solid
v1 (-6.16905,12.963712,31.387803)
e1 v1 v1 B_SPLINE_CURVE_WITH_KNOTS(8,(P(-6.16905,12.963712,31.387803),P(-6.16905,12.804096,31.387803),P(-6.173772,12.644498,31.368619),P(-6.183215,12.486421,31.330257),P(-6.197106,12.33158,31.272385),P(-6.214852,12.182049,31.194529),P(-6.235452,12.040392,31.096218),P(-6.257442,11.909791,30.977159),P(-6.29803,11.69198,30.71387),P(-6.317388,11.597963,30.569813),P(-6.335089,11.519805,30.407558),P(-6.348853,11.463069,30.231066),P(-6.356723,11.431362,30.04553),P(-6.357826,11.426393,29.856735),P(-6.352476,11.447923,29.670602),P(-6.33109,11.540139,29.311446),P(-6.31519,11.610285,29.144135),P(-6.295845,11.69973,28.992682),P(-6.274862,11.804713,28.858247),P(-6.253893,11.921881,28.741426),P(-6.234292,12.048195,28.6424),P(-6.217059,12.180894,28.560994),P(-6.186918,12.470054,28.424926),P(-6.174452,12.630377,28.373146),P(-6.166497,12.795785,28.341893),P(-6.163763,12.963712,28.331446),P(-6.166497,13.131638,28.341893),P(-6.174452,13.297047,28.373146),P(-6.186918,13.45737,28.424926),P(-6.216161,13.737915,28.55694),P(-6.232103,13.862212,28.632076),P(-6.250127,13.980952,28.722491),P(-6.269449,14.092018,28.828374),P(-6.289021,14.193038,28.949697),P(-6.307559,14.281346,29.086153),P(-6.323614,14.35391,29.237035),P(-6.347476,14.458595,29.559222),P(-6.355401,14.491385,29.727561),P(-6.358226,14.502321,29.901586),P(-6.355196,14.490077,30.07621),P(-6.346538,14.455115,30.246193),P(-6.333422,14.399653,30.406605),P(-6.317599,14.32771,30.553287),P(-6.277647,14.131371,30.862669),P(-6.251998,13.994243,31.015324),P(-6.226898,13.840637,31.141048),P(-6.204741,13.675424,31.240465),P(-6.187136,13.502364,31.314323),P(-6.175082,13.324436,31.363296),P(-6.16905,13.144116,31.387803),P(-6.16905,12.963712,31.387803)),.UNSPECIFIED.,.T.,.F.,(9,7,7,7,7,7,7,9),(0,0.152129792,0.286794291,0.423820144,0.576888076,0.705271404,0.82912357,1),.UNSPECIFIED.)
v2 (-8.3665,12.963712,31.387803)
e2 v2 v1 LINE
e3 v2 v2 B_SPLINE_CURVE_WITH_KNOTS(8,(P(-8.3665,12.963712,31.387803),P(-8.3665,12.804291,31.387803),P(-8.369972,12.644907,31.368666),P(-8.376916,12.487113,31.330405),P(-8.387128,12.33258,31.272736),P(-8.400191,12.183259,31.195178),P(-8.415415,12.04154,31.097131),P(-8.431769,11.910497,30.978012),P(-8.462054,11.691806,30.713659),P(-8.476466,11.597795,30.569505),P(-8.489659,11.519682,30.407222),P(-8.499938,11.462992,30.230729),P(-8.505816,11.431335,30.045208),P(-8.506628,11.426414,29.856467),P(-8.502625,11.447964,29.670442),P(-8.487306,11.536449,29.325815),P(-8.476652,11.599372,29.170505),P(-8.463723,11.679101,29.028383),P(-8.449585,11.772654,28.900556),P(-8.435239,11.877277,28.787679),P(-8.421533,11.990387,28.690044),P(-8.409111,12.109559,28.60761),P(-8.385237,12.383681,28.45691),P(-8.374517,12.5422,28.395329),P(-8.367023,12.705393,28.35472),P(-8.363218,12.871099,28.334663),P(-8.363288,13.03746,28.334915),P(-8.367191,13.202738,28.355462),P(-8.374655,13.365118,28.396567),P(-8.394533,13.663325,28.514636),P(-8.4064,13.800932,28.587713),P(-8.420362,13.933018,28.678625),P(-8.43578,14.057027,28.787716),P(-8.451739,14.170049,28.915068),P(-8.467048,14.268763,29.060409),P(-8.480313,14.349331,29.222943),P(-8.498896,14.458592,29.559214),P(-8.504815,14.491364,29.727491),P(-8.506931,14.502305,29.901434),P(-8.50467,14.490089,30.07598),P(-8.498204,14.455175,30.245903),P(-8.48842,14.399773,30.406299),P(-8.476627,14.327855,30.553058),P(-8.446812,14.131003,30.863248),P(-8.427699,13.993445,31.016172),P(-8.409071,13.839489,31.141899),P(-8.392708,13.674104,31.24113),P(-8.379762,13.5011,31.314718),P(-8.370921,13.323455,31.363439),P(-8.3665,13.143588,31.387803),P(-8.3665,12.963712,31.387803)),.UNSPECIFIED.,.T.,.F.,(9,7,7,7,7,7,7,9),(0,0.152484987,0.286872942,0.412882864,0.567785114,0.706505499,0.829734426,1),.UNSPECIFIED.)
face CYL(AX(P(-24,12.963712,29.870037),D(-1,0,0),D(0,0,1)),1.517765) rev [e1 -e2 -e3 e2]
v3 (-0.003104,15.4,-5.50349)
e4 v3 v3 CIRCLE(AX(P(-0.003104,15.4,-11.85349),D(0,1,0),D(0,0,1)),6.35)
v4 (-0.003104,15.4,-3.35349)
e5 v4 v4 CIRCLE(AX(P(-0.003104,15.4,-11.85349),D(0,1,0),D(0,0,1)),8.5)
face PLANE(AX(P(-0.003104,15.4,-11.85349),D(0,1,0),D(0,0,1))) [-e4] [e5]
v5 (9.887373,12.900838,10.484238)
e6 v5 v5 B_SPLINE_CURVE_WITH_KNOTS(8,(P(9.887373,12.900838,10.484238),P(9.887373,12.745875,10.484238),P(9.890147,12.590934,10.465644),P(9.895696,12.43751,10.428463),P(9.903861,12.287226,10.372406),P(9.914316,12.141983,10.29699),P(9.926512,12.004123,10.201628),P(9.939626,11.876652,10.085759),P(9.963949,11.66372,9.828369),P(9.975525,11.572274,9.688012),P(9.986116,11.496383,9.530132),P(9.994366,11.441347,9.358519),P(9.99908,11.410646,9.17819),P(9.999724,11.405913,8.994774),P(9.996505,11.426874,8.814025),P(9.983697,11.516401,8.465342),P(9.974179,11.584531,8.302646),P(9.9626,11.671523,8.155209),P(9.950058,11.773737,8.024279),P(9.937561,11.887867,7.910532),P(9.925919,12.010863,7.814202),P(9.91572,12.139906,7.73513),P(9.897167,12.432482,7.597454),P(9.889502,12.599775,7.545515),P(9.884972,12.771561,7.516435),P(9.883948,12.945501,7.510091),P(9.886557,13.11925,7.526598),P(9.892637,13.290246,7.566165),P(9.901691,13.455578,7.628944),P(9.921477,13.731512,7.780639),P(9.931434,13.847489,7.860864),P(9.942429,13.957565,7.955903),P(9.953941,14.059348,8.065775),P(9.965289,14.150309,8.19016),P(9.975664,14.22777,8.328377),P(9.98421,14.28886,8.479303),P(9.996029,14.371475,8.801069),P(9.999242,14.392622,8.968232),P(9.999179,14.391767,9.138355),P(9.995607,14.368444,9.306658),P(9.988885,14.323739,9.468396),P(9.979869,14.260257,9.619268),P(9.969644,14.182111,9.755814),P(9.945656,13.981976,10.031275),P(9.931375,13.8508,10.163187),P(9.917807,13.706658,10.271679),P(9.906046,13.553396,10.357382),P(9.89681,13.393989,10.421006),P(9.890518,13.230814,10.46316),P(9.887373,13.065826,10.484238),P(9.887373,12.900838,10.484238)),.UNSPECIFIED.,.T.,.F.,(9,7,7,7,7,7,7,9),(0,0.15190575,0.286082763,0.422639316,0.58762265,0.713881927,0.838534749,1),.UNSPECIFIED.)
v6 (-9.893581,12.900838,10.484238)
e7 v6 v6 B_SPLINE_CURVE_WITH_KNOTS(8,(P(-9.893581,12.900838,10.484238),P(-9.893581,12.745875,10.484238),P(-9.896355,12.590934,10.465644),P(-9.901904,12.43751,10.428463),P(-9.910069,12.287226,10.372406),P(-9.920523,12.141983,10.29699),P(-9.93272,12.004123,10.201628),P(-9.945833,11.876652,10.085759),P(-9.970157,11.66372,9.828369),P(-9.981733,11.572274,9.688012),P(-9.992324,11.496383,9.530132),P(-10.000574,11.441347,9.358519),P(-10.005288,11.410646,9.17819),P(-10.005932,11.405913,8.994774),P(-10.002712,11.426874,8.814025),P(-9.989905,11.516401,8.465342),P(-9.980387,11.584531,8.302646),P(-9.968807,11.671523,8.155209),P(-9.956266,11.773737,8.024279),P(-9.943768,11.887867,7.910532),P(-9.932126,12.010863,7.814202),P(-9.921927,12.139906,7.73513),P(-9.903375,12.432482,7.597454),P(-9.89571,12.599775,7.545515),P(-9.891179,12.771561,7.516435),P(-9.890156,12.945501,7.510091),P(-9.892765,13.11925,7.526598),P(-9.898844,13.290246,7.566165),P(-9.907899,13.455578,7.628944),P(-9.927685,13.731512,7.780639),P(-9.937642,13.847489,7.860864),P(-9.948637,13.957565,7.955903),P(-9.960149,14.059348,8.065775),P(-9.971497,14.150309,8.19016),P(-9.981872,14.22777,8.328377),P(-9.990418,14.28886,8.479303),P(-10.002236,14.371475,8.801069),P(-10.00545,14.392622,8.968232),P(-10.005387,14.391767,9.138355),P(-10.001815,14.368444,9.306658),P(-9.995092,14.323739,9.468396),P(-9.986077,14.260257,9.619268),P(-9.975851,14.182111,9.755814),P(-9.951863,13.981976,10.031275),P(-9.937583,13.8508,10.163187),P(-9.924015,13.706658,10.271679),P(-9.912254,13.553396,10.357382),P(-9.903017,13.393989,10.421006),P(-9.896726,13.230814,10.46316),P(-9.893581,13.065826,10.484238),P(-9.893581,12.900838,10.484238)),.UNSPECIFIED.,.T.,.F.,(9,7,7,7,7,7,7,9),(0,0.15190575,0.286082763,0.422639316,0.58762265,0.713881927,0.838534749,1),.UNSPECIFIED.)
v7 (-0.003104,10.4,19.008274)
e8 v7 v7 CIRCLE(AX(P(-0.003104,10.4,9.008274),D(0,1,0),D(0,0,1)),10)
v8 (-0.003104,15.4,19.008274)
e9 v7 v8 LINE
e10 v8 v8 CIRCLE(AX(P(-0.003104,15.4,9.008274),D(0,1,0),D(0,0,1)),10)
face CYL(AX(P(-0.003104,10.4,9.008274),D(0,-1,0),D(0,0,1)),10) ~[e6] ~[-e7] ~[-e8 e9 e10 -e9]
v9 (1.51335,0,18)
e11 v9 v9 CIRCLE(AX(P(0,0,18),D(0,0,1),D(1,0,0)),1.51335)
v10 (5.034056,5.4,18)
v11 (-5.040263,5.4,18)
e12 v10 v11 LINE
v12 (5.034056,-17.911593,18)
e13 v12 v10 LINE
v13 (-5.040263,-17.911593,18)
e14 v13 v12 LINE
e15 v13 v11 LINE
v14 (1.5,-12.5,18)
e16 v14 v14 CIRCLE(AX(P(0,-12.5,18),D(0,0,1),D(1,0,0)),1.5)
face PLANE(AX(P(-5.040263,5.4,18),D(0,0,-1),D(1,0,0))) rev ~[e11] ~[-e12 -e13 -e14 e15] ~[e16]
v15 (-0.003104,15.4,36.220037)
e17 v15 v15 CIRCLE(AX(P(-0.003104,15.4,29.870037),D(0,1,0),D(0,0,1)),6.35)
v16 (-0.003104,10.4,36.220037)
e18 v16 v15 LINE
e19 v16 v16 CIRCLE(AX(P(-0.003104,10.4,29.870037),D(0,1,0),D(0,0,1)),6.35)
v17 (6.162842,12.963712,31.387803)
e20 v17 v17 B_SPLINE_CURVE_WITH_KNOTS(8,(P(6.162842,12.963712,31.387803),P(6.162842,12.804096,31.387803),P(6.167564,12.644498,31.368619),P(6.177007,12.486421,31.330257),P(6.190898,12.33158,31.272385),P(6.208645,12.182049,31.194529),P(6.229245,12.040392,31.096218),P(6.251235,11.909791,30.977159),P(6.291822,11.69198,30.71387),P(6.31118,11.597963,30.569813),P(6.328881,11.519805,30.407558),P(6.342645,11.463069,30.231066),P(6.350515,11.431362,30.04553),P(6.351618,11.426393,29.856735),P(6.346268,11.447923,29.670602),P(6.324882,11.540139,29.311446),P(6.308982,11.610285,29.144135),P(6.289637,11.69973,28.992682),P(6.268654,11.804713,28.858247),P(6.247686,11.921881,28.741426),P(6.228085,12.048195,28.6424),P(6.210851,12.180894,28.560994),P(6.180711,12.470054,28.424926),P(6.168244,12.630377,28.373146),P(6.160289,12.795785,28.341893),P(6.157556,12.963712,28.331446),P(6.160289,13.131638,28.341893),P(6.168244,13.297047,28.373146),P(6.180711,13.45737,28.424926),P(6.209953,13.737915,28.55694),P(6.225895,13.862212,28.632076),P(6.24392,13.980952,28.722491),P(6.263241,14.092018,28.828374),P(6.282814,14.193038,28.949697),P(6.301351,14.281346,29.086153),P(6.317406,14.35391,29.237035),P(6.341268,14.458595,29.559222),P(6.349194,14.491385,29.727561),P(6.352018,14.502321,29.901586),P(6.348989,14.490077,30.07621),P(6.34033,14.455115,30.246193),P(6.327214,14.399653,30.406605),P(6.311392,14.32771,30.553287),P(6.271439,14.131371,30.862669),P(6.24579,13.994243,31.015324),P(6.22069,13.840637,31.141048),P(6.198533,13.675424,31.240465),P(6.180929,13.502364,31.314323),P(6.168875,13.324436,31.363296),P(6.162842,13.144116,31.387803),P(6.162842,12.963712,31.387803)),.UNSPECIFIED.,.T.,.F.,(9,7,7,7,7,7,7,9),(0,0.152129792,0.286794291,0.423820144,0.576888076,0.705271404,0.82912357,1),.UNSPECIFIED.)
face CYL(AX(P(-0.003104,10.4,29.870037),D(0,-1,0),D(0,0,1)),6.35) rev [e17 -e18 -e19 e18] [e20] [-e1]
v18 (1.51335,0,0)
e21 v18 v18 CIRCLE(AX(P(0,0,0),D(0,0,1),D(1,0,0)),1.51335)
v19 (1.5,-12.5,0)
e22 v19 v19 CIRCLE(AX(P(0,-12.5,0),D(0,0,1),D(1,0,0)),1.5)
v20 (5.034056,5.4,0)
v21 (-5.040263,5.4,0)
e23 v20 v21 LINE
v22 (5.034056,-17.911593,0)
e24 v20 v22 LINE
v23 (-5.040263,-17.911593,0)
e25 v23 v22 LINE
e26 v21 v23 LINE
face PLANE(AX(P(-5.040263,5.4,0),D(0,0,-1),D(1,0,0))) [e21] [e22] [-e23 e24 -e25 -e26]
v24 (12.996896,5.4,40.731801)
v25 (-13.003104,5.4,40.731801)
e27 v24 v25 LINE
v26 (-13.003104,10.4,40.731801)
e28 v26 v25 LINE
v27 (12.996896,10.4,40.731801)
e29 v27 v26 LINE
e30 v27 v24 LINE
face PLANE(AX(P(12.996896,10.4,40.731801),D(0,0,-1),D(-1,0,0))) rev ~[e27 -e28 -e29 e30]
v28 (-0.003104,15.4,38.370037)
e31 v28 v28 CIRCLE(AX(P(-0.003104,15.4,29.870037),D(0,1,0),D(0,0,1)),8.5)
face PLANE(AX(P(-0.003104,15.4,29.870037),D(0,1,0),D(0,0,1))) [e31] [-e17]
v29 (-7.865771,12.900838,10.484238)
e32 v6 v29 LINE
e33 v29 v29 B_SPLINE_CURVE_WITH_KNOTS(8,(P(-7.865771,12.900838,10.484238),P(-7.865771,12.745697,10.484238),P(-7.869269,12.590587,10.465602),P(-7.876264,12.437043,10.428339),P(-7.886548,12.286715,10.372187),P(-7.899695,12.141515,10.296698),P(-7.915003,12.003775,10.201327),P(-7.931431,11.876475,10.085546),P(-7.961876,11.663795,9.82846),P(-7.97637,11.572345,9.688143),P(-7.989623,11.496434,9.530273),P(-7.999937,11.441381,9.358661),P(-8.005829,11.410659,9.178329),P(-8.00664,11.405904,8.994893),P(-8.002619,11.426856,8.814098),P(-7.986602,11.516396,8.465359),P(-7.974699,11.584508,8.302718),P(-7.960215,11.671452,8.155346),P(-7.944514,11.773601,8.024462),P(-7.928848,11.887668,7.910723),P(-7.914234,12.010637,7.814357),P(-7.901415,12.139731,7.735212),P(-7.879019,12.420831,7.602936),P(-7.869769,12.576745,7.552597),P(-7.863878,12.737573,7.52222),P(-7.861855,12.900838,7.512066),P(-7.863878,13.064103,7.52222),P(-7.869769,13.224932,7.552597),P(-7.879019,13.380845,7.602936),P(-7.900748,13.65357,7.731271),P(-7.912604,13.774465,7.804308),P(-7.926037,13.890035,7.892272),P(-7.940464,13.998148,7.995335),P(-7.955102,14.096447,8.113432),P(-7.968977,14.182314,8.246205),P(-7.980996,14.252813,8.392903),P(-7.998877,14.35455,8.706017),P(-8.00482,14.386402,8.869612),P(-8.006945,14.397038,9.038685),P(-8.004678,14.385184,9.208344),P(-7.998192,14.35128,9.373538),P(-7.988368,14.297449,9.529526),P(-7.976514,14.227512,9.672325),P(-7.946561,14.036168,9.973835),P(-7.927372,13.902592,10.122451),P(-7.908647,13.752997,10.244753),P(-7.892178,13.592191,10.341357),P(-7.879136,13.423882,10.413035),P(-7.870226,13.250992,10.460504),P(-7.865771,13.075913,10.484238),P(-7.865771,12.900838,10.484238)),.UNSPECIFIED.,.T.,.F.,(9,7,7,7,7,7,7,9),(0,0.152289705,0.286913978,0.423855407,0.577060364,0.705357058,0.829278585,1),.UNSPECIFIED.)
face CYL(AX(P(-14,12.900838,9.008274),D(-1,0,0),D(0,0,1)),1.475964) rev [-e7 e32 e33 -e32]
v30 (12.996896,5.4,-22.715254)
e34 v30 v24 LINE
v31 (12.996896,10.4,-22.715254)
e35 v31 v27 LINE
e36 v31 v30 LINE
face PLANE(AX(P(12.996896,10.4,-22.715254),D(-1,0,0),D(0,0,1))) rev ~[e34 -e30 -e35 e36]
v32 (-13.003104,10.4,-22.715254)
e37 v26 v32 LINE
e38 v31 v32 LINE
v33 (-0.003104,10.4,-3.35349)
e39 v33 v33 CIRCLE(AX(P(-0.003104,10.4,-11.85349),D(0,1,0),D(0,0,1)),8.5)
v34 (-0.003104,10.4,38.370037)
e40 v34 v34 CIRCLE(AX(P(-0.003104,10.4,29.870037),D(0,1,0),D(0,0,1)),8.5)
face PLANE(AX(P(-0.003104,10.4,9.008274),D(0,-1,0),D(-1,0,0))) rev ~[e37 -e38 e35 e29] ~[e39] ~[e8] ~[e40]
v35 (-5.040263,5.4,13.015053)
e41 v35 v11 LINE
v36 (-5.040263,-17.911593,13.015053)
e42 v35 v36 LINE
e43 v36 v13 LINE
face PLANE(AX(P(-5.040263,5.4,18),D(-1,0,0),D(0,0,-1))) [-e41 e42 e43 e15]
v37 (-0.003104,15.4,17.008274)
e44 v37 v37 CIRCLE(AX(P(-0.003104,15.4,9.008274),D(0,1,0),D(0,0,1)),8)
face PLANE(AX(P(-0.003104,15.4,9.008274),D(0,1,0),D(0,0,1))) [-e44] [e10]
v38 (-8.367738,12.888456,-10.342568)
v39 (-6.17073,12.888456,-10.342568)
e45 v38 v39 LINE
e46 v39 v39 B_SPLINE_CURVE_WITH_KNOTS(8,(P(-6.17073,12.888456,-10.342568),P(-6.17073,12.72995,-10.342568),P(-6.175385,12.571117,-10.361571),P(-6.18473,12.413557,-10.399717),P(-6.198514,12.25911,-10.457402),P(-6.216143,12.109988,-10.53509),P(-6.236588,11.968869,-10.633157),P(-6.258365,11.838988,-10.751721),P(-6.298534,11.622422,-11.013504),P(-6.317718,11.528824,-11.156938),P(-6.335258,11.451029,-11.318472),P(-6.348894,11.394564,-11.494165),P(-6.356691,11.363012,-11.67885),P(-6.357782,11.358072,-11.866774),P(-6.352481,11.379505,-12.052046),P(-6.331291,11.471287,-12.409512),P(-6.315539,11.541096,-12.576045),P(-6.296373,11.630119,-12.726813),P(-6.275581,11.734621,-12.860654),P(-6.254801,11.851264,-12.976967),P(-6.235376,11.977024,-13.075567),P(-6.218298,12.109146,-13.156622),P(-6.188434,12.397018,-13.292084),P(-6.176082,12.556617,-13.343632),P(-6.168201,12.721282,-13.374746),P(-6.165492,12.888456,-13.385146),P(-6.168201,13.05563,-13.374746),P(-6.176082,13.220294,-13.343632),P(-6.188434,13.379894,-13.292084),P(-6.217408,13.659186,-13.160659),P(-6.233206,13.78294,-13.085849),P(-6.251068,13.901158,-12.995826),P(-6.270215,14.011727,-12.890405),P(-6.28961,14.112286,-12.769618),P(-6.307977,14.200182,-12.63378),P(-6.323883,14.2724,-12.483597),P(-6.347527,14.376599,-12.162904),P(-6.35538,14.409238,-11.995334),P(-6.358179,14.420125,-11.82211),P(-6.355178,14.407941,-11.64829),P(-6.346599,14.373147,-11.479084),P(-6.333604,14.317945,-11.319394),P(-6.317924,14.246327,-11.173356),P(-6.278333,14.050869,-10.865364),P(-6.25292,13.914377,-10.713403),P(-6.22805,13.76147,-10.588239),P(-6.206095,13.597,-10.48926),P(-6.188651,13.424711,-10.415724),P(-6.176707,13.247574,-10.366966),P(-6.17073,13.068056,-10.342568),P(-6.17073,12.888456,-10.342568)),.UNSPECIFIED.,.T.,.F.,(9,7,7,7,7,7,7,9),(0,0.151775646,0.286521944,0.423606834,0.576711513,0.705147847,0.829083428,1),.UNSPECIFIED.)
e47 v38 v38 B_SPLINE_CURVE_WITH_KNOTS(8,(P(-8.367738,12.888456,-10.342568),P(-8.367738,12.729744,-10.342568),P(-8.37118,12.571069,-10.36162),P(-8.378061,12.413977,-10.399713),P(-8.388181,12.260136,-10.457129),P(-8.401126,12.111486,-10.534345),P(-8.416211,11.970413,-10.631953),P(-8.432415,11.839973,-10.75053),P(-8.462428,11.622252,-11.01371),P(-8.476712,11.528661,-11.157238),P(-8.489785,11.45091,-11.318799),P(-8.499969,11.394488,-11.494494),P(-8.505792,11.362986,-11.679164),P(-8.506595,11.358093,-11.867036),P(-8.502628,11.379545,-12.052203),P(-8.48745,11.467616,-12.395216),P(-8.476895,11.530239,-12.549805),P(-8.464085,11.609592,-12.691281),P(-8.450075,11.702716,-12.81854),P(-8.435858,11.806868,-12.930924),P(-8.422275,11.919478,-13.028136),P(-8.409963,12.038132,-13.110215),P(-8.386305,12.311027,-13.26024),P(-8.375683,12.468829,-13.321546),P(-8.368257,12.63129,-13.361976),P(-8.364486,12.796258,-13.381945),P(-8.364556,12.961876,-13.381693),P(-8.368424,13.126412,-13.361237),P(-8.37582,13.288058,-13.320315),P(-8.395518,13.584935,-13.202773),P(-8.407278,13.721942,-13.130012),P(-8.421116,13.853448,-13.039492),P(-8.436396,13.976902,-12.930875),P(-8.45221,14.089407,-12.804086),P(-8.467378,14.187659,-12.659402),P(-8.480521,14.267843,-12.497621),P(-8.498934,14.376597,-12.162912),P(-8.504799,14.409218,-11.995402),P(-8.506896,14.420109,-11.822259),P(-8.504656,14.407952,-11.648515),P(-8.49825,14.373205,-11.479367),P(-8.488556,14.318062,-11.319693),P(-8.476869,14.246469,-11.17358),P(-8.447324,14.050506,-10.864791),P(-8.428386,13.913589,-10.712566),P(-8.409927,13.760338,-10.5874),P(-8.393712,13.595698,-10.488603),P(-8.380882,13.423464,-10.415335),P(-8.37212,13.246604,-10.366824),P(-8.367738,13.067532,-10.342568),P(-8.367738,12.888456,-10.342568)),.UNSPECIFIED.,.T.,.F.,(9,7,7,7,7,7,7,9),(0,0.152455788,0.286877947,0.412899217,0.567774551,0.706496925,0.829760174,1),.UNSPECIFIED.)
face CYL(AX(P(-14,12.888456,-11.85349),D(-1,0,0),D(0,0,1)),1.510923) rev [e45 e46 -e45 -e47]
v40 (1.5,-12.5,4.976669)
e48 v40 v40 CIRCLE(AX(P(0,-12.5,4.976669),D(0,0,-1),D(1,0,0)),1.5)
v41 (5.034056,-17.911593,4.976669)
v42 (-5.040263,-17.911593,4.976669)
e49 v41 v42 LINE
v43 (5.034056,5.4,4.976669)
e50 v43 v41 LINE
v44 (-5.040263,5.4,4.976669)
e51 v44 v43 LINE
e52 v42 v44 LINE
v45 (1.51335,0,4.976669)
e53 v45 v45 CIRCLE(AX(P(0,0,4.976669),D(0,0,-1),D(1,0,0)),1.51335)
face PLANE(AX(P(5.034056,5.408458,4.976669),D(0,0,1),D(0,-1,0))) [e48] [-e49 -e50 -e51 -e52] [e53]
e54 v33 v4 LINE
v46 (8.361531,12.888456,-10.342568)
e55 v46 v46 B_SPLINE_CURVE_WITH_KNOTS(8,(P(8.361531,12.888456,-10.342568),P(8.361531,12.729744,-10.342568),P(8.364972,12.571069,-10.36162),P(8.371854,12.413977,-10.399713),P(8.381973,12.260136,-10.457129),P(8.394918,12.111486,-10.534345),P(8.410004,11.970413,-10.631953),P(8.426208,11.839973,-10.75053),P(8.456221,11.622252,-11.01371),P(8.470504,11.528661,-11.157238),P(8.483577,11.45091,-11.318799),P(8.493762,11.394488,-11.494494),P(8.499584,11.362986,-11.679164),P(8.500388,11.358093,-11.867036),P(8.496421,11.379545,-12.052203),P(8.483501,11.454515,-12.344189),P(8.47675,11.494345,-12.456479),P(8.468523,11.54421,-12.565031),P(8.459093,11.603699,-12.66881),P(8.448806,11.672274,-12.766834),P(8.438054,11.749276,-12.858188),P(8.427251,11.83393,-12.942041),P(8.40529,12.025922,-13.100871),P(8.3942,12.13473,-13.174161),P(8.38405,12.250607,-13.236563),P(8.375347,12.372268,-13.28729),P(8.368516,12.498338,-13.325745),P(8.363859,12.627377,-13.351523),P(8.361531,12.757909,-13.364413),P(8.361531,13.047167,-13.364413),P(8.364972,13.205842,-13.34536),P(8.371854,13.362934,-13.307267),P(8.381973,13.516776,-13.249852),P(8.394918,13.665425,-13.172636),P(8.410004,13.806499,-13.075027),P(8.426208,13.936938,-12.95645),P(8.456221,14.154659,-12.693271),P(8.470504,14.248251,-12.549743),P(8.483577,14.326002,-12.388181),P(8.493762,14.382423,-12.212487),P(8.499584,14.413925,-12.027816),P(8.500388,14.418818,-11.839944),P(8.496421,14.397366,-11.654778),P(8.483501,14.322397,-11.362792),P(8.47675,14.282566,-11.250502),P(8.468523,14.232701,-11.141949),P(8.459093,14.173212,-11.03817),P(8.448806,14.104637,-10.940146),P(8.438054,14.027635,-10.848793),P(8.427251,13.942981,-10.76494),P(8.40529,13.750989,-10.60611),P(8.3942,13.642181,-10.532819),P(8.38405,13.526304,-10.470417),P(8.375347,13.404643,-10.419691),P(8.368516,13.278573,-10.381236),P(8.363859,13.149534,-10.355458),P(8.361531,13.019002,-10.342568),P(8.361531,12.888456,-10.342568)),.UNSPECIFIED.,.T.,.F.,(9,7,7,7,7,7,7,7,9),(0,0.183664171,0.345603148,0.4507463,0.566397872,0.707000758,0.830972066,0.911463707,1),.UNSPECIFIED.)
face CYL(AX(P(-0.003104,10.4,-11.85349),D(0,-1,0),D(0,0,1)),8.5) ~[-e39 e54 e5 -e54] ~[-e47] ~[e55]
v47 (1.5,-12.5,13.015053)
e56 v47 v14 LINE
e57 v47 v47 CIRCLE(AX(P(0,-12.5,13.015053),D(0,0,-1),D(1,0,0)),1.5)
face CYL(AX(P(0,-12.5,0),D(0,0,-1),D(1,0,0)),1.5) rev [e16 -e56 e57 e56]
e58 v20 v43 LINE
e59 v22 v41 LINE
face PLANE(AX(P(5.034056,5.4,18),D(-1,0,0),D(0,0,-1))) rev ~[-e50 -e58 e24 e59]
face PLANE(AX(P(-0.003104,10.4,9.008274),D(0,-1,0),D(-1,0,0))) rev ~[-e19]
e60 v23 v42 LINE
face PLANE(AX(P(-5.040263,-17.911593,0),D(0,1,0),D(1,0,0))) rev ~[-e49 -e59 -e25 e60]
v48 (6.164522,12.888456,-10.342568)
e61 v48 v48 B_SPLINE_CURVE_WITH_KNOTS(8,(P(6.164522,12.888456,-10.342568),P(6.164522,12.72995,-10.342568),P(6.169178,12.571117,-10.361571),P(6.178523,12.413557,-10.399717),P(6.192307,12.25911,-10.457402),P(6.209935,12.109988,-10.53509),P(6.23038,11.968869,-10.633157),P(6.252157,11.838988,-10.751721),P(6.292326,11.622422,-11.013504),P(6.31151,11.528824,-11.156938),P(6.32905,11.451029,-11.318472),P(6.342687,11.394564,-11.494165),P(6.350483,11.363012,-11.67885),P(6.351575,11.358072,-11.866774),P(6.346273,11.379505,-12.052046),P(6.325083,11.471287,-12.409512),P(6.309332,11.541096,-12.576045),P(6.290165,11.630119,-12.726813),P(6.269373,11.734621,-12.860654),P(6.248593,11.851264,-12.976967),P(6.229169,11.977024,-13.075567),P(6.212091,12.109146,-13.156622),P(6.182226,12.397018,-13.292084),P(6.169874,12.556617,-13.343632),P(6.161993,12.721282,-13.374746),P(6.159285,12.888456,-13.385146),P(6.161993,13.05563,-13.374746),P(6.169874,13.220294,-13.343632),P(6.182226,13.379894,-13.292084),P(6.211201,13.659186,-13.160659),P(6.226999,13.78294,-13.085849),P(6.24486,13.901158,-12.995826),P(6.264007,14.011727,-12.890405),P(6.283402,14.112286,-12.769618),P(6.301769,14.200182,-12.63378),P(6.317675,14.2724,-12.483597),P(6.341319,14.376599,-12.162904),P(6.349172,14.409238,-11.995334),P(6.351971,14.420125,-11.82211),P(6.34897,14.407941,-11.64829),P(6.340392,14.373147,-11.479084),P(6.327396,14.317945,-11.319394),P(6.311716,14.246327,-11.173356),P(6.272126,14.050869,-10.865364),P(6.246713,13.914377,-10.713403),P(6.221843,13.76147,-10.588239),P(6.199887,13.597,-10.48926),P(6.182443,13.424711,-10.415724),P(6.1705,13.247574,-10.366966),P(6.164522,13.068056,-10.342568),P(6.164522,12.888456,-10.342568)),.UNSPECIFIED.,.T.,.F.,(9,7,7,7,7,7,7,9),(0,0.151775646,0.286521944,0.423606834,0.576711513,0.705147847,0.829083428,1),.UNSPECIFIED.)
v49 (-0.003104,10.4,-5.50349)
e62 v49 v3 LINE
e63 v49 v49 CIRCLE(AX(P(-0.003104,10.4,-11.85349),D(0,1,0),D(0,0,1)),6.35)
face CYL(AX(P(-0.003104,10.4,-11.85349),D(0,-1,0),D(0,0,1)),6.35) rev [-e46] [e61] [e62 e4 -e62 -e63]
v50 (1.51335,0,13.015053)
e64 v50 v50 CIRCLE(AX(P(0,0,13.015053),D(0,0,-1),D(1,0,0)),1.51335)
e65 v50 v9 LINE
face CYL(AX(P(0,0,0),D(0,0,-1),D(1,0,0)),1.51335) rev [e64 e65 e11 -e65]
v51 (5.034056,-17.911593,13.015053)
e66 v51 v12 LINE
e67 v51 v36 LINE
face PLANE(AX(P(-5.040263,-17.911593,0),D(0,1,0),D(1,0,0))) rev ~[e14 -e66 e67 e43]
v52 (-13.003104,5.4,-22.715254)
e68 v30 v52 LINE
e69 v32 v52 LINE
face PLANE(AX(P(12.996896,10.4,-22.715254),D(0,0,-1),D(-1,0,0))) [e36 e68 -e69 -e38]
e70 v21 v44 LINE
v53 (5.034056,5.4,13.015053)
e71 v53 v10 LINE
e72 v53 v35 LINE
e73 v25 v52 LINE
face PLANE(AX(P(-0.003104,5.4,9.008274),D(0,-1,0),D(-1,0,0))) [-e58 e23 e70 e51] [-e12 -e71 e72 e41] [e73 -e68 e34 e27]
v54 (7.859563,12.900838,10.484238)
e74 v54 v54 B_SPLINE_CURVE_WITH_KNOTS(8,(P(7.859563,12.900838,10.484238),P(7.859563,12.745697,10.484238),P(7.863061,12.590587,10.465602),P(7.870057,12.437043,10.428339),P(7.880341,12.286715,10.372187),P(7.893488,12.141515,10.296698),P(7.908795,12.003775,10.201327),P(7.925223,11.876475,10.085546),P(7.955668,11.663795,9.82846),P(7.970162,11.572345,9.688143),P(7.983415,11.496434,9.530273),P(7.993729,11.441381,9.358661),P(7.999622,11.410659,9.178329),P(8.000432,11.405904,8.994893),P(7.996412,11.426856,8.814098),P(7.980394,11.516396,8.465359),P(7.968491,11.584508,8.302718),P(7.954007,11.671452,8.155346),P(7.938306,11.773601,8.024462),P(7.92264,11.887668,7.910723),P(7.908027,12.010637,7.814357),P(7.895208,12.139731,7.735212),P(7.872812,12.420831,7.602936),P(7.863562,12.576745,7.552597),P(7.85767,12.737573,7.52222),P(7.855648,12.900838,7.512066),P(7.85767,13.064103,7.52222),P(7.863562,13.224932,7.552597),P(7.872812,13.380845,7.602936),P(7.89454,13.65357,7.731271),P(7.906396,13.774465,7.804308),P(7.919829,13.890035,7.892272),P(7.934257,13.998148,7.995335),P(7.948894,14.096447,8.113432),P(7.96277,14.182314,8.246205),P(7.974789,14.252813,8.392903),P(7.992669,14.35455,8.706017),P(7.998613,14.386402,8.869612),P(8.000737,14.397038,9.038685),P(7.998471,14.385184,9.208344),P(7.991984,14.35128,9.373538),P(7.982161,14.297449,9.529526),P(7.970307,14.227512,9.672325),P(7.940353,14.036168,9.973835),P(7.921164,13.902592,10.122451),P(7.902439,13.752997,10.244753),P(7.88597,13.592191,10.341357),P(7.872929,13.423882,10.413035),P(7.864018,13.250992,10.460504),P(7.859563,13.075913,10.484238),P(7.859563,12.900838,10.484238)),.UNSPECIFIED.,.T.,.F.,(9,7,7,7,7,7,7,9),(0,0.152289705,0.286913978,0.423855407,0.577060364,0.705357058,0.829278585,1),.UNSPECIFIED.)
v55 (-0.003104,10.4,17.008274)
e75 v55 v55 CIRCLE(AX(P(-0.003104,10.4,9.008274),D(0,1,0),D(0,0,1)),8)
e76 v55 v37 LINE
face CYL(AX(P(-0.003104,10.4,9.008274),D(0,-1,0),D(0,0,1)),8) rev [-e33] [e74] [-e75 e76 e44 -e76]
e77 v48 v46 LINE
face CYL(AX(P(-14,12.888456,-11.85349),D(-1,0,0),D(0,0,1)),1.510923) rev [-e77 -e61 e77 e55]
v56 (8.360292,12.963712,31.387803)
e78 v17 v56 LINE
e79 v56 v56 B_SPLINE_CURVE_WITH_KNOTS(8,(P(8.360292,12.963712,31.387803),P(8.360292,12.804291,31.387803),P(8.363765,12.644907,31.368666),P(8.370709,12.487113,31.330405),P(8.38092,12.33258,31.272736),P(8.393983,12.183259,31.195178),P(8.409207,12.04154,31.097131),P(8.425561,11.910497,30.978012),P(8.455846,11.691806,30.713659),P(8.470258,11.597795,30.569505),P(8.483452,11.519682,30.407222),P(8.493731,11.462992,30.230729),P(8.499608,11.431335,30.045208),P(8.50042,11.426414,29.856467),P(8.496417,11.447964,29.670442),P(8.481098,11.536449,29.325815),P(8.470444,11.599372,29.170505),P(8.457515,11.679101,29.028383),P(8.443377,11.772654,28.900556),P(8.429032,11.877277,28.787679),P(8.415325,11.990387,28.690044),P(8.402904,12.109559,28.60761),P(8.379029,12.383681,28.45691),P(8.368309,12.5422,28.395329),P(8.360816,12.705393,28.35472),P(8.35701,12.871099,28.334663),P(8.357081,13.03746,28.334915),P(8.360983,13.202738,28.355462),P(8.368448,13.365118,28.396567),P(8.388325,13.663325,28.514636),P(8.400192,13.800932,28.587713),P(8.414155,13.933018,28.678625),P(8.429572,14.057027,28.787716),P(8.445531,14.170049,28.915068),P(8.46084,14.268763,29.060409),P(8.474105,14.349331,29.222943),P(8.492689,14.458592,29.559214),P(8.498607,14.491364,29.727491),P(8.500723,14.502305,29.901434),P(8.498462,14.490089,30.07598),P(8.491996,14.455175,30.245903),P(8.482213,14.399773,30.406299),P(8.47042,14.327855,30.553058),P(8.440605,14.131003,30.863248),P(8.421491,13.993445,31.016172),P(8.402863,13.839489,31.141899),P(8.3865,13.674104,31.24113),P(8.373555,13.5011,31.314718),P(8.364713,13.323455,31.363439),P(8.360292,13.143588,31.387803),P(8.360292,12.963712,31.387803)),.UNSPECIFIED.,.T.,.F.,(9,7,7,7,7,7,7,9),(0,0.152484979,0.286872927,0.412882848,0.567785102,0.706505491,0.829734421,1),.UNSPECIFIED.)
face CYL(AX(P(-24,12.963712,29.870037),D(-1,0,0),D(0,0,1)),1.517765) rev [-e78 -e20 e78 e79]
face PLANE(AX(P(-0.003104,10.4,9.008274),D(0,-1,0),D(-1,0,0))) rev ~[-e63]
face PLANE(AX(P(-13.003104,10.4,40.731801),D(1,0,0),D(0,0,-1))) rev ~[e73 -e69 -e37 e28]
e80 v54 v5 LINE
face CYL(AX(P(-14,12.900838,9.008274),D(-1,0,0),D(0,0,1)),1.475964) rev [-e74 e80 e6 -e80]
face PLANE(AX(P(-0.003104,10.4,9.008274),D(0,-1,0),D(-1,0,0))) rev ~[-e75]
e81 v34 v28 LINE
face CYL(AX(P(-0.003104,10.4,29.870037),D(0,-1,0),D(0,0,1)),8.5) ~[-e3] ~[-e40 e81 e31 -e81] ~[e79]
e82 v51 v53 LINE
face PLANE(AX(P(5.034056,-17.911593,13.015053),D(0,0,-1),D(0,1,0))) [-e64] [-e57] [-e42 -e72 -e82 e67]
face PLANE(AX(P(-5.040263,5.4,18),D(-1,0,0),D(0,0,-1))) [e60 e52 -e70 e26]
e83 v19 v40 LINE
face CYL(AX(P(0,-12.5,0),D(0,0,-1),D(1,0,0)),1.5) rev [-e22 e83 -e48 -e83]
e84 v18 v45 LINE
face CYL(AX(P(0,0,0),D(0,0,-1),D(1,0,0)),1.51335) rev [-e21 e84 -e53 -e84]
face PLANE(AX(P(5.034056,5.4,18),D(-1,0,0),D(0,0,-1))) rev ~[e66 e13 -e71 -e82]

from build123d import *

# Parameters (mm, degrees)
CROQUIS1_W                 = 10.074318824
CROQUIS1_H                 = 23.311592876
CROQUIS1_R                 = 1.513350195
CROQUIS1_R_2               = 1.5
SALIENTE_EXTRUIR1_DEPTH    = 18
CROQUIS2_W                 = 10.074318824
CROQUIS2_H                 = 18
SALIENTE_EXTRUIR2_DEPTH    = 5
CORTAR_EXTRUIR1_DEPTH      = 22
SALIENTE_EXTRUIR3_DEPTH    = 5
CROQUIS5_R                 = 10
CROQUIS5_R_2               = 8
SALIENTE_EXTRUIR4_DEPTH    = 5
CORTAR_EXTRUIR3_DEPTH      = 33
CORTAR_EXTRUIR3_DEPTH_BACK = 14
CROQUIS7_R                 = 1.475964283
CROQUIS11_R                = 8.5
CROQUIS11_R_2              = 6.35
SALIENTE_EXTRUIR6_DEPTH    = 5
CROQUIS12_R                = 8.5
CROQUIS12_R_2              = 6.35
SALIENTE_EXTRUIR8_DEPTH    = 5
CORTAR_EXTRUIR4_DEPTH      = 22
CORTAR_EXTRUIR4_DEPTH_BACK = 14
CROQUIS13_R                = 1.510922734
CORTAR_EXTRUIR5_DEPTH      = 25
CORTAR_EXTRUIR5_DEPTH_BACK = 24
CROQUIS14_R                = 1.5177653


with BuildPart() as part:
    # Croquis1 → Saliente-Extruir1 (new body)
    with BuildSketch(Plane.XY):
        with Locations((-0.003103843, -6.255796438)):
            Rectangle(CROQUIS1_W, CROQUIS1_H)
        Circle(CROQUIS1_R, mode=Mode.SUBTRACT)
        with Locations((0, -12.5)):
            Circle(CROQUIS1_R_2, mode=Mode.SUBTRACT)
    extrude(amount=SALIENTE_EXTRUIR1_DEPTH)

    # Croquis2 → Saliente-Extruir2 (add)
    with BuildSketch(Plane(origin=(0, 5.4, 0), x_dir=(1, 0, 0), z_dir=(0, 1, 0))):
        with Locations((-0.003103843, -9)):
            Rectangle(CROQUIS2_W, CROQUIS2_H)
    extrude(amount=SALIENTE_EXTRUIR2_DEPTH)

    # Croquis3 → Cortar-Extruir1 (cut)
    with BuildSketch(Plane(origin=(5.034055569, 0, 0), x_dir=(0, 0, -1), z_dir=(1, 0, 0))):
        Polygon((-9, -17.911592876), (-13.015052671, -17.911592876), (-13.015052671, 5.408457803), (-4.97666887, 5.408457803), (-4.97666887, -17.911592876), align=None)
    extrude(amount=-CORTAR_EXTRUIR1_DEPTH, mode=Mode.SUBTRACT)

    # Croquis4 → Saliente-Extruir3 (add)
    with BuildSketch(Plane(origin=(0, 10.4, 0), x_dir=(1, 0, 0), z_dir=(0, 1, 0))):
        Polygon((-0.003103843, 22.715254114), (12.996896157, 22.715254114), (12.996896157, -40.731801261), (-13.003103843, -40.731801261), (-13.003103843, 22.715254114), align=None)
    extrude(amount=-SALIENTE_EXTRUIR3_DEPTH)

    # Croquis5 → Saliente-Extruir4 (add)
    with BuildSketch(Plane(origin=(0, 10.4, 0), x_dir=(1, 0, 0), z_dir=(0, 1, 0))):
        with Locations(Location((-0.003103843, -9.008273573, 0), (0, 0, 270))):
            Circle(CROQUIS5_R)
        with Locations(Location((-0.003103843, -9.008273573, 0), (0, 0, 270))):
            Circle(CROQUIS5_R_2, mode=Mode.SUBTRACT)
    extrude(amount=SALIENTE_EXTRUIR4_DEPTH)

    # Croquis7 → Cortar-Extruir3 (cut, two sides: drawn at the far end of the back side and taken through both)
    with BuildSketch(Plane(origin=(0, 0, 0), x_dir=(0, 0, -1), z_dir=(1, 0, 0)).offset(-CORTAR_EXTRUIR3_DEPTH_BACK)):
        with Locations(Location((-9.008273573, 12.900838069, 0), (0, 0, 180))):
            Circle(CROQUIS7_R)
    extrude(amount=CORTAR_EXTRUIR3_DEPTH + CORTAR_EXTRUIR3_DEPTH_BACK, mode=Mode.SUBTRACT)

    # Croquis11 → Saliente-Extruir6 (add)
    with BuildSketch(Plane(origin=(0, 10.4, 0), x_dir=(1, 0, 0), z_dir=(0, 1, 0))):
        with Locations(Location((-0.003103843, 11.85349027, 0), (0, 0, 270))):
            Circle(CROQUIS11_R)
        with Locations(Location((-0.003103843, 11.85349027, 0), (0, 0, 270))):
            Circle(CROQUIS11_R_2, mode=Mode.SUBTRACT)
    extrude(amount=SALIENTE_EXTRUIR6_DEPTH)

    # Croquis12 → Saliente-Extruir8 (add)
    with BuildSketch(Plane(origin=(0, 10.4, 0), x_dir=(1, 0, 0), z_dir=(0, 1, 0))):
        with Locations(Location((-0.003103843, -29.870037417, 0), (0, 0, 270))):
            Circle(CROQUIS12_R)
        with Locations(Location((-0.003103843, -29.870037417, 0), (0, 0, 270))):
            Circle(CROQUIS12_R_2, mode=Mode.SUBTRACT)
    extrude(amount=SALIENTE_EXTRUIR8_DEPTH)

    # Croquis13 → Cortar-Extruir4 (cut, two sides: drawn at the far end of the back side and taken through both)
    with BuildSketch(Plane(origin=(0, 0, 0), x_dir=(0, 0, -1), z_dir=(1, 0, 0)).offset(-CORTAR_EXTRUIR4_DEPTH_BACK)):
        with Locations(Location((11.85349027, 12.8884556, 0), (0, 0, 180))):
            Circle(CROQUIS13_R)
    extrude(amount=CORTAR_EXTRUIR4_DEPTH + CORTAR_EXTRUIR4_DEPTH_BACK, mode=Mode.SUBTRACT)

    # Croquis14 → Cortar-Extruir5 (cut, two sides: drawn at the far end of the back side and taken through both)
    with BuildSketch(Plane(origin=(0, 0, 0), x_dir=(0, 0, -1), z_dir=(1, 0, 0)).offset(-CORTAR_EXTRUIR5_DEPTH_BACK)):
        with Locations(Location((-29.870037417, 12.963711877, 0), (0, 0, 180))):
            Circle(CROQUIS14_R)
    extrude(amount=CORTAR_EXTRUIR5_DEPTH + CORTAR_EXTRUIR5_DEPTH_BACK, mode=Mode.SUBTRACT)


solid = part.part
